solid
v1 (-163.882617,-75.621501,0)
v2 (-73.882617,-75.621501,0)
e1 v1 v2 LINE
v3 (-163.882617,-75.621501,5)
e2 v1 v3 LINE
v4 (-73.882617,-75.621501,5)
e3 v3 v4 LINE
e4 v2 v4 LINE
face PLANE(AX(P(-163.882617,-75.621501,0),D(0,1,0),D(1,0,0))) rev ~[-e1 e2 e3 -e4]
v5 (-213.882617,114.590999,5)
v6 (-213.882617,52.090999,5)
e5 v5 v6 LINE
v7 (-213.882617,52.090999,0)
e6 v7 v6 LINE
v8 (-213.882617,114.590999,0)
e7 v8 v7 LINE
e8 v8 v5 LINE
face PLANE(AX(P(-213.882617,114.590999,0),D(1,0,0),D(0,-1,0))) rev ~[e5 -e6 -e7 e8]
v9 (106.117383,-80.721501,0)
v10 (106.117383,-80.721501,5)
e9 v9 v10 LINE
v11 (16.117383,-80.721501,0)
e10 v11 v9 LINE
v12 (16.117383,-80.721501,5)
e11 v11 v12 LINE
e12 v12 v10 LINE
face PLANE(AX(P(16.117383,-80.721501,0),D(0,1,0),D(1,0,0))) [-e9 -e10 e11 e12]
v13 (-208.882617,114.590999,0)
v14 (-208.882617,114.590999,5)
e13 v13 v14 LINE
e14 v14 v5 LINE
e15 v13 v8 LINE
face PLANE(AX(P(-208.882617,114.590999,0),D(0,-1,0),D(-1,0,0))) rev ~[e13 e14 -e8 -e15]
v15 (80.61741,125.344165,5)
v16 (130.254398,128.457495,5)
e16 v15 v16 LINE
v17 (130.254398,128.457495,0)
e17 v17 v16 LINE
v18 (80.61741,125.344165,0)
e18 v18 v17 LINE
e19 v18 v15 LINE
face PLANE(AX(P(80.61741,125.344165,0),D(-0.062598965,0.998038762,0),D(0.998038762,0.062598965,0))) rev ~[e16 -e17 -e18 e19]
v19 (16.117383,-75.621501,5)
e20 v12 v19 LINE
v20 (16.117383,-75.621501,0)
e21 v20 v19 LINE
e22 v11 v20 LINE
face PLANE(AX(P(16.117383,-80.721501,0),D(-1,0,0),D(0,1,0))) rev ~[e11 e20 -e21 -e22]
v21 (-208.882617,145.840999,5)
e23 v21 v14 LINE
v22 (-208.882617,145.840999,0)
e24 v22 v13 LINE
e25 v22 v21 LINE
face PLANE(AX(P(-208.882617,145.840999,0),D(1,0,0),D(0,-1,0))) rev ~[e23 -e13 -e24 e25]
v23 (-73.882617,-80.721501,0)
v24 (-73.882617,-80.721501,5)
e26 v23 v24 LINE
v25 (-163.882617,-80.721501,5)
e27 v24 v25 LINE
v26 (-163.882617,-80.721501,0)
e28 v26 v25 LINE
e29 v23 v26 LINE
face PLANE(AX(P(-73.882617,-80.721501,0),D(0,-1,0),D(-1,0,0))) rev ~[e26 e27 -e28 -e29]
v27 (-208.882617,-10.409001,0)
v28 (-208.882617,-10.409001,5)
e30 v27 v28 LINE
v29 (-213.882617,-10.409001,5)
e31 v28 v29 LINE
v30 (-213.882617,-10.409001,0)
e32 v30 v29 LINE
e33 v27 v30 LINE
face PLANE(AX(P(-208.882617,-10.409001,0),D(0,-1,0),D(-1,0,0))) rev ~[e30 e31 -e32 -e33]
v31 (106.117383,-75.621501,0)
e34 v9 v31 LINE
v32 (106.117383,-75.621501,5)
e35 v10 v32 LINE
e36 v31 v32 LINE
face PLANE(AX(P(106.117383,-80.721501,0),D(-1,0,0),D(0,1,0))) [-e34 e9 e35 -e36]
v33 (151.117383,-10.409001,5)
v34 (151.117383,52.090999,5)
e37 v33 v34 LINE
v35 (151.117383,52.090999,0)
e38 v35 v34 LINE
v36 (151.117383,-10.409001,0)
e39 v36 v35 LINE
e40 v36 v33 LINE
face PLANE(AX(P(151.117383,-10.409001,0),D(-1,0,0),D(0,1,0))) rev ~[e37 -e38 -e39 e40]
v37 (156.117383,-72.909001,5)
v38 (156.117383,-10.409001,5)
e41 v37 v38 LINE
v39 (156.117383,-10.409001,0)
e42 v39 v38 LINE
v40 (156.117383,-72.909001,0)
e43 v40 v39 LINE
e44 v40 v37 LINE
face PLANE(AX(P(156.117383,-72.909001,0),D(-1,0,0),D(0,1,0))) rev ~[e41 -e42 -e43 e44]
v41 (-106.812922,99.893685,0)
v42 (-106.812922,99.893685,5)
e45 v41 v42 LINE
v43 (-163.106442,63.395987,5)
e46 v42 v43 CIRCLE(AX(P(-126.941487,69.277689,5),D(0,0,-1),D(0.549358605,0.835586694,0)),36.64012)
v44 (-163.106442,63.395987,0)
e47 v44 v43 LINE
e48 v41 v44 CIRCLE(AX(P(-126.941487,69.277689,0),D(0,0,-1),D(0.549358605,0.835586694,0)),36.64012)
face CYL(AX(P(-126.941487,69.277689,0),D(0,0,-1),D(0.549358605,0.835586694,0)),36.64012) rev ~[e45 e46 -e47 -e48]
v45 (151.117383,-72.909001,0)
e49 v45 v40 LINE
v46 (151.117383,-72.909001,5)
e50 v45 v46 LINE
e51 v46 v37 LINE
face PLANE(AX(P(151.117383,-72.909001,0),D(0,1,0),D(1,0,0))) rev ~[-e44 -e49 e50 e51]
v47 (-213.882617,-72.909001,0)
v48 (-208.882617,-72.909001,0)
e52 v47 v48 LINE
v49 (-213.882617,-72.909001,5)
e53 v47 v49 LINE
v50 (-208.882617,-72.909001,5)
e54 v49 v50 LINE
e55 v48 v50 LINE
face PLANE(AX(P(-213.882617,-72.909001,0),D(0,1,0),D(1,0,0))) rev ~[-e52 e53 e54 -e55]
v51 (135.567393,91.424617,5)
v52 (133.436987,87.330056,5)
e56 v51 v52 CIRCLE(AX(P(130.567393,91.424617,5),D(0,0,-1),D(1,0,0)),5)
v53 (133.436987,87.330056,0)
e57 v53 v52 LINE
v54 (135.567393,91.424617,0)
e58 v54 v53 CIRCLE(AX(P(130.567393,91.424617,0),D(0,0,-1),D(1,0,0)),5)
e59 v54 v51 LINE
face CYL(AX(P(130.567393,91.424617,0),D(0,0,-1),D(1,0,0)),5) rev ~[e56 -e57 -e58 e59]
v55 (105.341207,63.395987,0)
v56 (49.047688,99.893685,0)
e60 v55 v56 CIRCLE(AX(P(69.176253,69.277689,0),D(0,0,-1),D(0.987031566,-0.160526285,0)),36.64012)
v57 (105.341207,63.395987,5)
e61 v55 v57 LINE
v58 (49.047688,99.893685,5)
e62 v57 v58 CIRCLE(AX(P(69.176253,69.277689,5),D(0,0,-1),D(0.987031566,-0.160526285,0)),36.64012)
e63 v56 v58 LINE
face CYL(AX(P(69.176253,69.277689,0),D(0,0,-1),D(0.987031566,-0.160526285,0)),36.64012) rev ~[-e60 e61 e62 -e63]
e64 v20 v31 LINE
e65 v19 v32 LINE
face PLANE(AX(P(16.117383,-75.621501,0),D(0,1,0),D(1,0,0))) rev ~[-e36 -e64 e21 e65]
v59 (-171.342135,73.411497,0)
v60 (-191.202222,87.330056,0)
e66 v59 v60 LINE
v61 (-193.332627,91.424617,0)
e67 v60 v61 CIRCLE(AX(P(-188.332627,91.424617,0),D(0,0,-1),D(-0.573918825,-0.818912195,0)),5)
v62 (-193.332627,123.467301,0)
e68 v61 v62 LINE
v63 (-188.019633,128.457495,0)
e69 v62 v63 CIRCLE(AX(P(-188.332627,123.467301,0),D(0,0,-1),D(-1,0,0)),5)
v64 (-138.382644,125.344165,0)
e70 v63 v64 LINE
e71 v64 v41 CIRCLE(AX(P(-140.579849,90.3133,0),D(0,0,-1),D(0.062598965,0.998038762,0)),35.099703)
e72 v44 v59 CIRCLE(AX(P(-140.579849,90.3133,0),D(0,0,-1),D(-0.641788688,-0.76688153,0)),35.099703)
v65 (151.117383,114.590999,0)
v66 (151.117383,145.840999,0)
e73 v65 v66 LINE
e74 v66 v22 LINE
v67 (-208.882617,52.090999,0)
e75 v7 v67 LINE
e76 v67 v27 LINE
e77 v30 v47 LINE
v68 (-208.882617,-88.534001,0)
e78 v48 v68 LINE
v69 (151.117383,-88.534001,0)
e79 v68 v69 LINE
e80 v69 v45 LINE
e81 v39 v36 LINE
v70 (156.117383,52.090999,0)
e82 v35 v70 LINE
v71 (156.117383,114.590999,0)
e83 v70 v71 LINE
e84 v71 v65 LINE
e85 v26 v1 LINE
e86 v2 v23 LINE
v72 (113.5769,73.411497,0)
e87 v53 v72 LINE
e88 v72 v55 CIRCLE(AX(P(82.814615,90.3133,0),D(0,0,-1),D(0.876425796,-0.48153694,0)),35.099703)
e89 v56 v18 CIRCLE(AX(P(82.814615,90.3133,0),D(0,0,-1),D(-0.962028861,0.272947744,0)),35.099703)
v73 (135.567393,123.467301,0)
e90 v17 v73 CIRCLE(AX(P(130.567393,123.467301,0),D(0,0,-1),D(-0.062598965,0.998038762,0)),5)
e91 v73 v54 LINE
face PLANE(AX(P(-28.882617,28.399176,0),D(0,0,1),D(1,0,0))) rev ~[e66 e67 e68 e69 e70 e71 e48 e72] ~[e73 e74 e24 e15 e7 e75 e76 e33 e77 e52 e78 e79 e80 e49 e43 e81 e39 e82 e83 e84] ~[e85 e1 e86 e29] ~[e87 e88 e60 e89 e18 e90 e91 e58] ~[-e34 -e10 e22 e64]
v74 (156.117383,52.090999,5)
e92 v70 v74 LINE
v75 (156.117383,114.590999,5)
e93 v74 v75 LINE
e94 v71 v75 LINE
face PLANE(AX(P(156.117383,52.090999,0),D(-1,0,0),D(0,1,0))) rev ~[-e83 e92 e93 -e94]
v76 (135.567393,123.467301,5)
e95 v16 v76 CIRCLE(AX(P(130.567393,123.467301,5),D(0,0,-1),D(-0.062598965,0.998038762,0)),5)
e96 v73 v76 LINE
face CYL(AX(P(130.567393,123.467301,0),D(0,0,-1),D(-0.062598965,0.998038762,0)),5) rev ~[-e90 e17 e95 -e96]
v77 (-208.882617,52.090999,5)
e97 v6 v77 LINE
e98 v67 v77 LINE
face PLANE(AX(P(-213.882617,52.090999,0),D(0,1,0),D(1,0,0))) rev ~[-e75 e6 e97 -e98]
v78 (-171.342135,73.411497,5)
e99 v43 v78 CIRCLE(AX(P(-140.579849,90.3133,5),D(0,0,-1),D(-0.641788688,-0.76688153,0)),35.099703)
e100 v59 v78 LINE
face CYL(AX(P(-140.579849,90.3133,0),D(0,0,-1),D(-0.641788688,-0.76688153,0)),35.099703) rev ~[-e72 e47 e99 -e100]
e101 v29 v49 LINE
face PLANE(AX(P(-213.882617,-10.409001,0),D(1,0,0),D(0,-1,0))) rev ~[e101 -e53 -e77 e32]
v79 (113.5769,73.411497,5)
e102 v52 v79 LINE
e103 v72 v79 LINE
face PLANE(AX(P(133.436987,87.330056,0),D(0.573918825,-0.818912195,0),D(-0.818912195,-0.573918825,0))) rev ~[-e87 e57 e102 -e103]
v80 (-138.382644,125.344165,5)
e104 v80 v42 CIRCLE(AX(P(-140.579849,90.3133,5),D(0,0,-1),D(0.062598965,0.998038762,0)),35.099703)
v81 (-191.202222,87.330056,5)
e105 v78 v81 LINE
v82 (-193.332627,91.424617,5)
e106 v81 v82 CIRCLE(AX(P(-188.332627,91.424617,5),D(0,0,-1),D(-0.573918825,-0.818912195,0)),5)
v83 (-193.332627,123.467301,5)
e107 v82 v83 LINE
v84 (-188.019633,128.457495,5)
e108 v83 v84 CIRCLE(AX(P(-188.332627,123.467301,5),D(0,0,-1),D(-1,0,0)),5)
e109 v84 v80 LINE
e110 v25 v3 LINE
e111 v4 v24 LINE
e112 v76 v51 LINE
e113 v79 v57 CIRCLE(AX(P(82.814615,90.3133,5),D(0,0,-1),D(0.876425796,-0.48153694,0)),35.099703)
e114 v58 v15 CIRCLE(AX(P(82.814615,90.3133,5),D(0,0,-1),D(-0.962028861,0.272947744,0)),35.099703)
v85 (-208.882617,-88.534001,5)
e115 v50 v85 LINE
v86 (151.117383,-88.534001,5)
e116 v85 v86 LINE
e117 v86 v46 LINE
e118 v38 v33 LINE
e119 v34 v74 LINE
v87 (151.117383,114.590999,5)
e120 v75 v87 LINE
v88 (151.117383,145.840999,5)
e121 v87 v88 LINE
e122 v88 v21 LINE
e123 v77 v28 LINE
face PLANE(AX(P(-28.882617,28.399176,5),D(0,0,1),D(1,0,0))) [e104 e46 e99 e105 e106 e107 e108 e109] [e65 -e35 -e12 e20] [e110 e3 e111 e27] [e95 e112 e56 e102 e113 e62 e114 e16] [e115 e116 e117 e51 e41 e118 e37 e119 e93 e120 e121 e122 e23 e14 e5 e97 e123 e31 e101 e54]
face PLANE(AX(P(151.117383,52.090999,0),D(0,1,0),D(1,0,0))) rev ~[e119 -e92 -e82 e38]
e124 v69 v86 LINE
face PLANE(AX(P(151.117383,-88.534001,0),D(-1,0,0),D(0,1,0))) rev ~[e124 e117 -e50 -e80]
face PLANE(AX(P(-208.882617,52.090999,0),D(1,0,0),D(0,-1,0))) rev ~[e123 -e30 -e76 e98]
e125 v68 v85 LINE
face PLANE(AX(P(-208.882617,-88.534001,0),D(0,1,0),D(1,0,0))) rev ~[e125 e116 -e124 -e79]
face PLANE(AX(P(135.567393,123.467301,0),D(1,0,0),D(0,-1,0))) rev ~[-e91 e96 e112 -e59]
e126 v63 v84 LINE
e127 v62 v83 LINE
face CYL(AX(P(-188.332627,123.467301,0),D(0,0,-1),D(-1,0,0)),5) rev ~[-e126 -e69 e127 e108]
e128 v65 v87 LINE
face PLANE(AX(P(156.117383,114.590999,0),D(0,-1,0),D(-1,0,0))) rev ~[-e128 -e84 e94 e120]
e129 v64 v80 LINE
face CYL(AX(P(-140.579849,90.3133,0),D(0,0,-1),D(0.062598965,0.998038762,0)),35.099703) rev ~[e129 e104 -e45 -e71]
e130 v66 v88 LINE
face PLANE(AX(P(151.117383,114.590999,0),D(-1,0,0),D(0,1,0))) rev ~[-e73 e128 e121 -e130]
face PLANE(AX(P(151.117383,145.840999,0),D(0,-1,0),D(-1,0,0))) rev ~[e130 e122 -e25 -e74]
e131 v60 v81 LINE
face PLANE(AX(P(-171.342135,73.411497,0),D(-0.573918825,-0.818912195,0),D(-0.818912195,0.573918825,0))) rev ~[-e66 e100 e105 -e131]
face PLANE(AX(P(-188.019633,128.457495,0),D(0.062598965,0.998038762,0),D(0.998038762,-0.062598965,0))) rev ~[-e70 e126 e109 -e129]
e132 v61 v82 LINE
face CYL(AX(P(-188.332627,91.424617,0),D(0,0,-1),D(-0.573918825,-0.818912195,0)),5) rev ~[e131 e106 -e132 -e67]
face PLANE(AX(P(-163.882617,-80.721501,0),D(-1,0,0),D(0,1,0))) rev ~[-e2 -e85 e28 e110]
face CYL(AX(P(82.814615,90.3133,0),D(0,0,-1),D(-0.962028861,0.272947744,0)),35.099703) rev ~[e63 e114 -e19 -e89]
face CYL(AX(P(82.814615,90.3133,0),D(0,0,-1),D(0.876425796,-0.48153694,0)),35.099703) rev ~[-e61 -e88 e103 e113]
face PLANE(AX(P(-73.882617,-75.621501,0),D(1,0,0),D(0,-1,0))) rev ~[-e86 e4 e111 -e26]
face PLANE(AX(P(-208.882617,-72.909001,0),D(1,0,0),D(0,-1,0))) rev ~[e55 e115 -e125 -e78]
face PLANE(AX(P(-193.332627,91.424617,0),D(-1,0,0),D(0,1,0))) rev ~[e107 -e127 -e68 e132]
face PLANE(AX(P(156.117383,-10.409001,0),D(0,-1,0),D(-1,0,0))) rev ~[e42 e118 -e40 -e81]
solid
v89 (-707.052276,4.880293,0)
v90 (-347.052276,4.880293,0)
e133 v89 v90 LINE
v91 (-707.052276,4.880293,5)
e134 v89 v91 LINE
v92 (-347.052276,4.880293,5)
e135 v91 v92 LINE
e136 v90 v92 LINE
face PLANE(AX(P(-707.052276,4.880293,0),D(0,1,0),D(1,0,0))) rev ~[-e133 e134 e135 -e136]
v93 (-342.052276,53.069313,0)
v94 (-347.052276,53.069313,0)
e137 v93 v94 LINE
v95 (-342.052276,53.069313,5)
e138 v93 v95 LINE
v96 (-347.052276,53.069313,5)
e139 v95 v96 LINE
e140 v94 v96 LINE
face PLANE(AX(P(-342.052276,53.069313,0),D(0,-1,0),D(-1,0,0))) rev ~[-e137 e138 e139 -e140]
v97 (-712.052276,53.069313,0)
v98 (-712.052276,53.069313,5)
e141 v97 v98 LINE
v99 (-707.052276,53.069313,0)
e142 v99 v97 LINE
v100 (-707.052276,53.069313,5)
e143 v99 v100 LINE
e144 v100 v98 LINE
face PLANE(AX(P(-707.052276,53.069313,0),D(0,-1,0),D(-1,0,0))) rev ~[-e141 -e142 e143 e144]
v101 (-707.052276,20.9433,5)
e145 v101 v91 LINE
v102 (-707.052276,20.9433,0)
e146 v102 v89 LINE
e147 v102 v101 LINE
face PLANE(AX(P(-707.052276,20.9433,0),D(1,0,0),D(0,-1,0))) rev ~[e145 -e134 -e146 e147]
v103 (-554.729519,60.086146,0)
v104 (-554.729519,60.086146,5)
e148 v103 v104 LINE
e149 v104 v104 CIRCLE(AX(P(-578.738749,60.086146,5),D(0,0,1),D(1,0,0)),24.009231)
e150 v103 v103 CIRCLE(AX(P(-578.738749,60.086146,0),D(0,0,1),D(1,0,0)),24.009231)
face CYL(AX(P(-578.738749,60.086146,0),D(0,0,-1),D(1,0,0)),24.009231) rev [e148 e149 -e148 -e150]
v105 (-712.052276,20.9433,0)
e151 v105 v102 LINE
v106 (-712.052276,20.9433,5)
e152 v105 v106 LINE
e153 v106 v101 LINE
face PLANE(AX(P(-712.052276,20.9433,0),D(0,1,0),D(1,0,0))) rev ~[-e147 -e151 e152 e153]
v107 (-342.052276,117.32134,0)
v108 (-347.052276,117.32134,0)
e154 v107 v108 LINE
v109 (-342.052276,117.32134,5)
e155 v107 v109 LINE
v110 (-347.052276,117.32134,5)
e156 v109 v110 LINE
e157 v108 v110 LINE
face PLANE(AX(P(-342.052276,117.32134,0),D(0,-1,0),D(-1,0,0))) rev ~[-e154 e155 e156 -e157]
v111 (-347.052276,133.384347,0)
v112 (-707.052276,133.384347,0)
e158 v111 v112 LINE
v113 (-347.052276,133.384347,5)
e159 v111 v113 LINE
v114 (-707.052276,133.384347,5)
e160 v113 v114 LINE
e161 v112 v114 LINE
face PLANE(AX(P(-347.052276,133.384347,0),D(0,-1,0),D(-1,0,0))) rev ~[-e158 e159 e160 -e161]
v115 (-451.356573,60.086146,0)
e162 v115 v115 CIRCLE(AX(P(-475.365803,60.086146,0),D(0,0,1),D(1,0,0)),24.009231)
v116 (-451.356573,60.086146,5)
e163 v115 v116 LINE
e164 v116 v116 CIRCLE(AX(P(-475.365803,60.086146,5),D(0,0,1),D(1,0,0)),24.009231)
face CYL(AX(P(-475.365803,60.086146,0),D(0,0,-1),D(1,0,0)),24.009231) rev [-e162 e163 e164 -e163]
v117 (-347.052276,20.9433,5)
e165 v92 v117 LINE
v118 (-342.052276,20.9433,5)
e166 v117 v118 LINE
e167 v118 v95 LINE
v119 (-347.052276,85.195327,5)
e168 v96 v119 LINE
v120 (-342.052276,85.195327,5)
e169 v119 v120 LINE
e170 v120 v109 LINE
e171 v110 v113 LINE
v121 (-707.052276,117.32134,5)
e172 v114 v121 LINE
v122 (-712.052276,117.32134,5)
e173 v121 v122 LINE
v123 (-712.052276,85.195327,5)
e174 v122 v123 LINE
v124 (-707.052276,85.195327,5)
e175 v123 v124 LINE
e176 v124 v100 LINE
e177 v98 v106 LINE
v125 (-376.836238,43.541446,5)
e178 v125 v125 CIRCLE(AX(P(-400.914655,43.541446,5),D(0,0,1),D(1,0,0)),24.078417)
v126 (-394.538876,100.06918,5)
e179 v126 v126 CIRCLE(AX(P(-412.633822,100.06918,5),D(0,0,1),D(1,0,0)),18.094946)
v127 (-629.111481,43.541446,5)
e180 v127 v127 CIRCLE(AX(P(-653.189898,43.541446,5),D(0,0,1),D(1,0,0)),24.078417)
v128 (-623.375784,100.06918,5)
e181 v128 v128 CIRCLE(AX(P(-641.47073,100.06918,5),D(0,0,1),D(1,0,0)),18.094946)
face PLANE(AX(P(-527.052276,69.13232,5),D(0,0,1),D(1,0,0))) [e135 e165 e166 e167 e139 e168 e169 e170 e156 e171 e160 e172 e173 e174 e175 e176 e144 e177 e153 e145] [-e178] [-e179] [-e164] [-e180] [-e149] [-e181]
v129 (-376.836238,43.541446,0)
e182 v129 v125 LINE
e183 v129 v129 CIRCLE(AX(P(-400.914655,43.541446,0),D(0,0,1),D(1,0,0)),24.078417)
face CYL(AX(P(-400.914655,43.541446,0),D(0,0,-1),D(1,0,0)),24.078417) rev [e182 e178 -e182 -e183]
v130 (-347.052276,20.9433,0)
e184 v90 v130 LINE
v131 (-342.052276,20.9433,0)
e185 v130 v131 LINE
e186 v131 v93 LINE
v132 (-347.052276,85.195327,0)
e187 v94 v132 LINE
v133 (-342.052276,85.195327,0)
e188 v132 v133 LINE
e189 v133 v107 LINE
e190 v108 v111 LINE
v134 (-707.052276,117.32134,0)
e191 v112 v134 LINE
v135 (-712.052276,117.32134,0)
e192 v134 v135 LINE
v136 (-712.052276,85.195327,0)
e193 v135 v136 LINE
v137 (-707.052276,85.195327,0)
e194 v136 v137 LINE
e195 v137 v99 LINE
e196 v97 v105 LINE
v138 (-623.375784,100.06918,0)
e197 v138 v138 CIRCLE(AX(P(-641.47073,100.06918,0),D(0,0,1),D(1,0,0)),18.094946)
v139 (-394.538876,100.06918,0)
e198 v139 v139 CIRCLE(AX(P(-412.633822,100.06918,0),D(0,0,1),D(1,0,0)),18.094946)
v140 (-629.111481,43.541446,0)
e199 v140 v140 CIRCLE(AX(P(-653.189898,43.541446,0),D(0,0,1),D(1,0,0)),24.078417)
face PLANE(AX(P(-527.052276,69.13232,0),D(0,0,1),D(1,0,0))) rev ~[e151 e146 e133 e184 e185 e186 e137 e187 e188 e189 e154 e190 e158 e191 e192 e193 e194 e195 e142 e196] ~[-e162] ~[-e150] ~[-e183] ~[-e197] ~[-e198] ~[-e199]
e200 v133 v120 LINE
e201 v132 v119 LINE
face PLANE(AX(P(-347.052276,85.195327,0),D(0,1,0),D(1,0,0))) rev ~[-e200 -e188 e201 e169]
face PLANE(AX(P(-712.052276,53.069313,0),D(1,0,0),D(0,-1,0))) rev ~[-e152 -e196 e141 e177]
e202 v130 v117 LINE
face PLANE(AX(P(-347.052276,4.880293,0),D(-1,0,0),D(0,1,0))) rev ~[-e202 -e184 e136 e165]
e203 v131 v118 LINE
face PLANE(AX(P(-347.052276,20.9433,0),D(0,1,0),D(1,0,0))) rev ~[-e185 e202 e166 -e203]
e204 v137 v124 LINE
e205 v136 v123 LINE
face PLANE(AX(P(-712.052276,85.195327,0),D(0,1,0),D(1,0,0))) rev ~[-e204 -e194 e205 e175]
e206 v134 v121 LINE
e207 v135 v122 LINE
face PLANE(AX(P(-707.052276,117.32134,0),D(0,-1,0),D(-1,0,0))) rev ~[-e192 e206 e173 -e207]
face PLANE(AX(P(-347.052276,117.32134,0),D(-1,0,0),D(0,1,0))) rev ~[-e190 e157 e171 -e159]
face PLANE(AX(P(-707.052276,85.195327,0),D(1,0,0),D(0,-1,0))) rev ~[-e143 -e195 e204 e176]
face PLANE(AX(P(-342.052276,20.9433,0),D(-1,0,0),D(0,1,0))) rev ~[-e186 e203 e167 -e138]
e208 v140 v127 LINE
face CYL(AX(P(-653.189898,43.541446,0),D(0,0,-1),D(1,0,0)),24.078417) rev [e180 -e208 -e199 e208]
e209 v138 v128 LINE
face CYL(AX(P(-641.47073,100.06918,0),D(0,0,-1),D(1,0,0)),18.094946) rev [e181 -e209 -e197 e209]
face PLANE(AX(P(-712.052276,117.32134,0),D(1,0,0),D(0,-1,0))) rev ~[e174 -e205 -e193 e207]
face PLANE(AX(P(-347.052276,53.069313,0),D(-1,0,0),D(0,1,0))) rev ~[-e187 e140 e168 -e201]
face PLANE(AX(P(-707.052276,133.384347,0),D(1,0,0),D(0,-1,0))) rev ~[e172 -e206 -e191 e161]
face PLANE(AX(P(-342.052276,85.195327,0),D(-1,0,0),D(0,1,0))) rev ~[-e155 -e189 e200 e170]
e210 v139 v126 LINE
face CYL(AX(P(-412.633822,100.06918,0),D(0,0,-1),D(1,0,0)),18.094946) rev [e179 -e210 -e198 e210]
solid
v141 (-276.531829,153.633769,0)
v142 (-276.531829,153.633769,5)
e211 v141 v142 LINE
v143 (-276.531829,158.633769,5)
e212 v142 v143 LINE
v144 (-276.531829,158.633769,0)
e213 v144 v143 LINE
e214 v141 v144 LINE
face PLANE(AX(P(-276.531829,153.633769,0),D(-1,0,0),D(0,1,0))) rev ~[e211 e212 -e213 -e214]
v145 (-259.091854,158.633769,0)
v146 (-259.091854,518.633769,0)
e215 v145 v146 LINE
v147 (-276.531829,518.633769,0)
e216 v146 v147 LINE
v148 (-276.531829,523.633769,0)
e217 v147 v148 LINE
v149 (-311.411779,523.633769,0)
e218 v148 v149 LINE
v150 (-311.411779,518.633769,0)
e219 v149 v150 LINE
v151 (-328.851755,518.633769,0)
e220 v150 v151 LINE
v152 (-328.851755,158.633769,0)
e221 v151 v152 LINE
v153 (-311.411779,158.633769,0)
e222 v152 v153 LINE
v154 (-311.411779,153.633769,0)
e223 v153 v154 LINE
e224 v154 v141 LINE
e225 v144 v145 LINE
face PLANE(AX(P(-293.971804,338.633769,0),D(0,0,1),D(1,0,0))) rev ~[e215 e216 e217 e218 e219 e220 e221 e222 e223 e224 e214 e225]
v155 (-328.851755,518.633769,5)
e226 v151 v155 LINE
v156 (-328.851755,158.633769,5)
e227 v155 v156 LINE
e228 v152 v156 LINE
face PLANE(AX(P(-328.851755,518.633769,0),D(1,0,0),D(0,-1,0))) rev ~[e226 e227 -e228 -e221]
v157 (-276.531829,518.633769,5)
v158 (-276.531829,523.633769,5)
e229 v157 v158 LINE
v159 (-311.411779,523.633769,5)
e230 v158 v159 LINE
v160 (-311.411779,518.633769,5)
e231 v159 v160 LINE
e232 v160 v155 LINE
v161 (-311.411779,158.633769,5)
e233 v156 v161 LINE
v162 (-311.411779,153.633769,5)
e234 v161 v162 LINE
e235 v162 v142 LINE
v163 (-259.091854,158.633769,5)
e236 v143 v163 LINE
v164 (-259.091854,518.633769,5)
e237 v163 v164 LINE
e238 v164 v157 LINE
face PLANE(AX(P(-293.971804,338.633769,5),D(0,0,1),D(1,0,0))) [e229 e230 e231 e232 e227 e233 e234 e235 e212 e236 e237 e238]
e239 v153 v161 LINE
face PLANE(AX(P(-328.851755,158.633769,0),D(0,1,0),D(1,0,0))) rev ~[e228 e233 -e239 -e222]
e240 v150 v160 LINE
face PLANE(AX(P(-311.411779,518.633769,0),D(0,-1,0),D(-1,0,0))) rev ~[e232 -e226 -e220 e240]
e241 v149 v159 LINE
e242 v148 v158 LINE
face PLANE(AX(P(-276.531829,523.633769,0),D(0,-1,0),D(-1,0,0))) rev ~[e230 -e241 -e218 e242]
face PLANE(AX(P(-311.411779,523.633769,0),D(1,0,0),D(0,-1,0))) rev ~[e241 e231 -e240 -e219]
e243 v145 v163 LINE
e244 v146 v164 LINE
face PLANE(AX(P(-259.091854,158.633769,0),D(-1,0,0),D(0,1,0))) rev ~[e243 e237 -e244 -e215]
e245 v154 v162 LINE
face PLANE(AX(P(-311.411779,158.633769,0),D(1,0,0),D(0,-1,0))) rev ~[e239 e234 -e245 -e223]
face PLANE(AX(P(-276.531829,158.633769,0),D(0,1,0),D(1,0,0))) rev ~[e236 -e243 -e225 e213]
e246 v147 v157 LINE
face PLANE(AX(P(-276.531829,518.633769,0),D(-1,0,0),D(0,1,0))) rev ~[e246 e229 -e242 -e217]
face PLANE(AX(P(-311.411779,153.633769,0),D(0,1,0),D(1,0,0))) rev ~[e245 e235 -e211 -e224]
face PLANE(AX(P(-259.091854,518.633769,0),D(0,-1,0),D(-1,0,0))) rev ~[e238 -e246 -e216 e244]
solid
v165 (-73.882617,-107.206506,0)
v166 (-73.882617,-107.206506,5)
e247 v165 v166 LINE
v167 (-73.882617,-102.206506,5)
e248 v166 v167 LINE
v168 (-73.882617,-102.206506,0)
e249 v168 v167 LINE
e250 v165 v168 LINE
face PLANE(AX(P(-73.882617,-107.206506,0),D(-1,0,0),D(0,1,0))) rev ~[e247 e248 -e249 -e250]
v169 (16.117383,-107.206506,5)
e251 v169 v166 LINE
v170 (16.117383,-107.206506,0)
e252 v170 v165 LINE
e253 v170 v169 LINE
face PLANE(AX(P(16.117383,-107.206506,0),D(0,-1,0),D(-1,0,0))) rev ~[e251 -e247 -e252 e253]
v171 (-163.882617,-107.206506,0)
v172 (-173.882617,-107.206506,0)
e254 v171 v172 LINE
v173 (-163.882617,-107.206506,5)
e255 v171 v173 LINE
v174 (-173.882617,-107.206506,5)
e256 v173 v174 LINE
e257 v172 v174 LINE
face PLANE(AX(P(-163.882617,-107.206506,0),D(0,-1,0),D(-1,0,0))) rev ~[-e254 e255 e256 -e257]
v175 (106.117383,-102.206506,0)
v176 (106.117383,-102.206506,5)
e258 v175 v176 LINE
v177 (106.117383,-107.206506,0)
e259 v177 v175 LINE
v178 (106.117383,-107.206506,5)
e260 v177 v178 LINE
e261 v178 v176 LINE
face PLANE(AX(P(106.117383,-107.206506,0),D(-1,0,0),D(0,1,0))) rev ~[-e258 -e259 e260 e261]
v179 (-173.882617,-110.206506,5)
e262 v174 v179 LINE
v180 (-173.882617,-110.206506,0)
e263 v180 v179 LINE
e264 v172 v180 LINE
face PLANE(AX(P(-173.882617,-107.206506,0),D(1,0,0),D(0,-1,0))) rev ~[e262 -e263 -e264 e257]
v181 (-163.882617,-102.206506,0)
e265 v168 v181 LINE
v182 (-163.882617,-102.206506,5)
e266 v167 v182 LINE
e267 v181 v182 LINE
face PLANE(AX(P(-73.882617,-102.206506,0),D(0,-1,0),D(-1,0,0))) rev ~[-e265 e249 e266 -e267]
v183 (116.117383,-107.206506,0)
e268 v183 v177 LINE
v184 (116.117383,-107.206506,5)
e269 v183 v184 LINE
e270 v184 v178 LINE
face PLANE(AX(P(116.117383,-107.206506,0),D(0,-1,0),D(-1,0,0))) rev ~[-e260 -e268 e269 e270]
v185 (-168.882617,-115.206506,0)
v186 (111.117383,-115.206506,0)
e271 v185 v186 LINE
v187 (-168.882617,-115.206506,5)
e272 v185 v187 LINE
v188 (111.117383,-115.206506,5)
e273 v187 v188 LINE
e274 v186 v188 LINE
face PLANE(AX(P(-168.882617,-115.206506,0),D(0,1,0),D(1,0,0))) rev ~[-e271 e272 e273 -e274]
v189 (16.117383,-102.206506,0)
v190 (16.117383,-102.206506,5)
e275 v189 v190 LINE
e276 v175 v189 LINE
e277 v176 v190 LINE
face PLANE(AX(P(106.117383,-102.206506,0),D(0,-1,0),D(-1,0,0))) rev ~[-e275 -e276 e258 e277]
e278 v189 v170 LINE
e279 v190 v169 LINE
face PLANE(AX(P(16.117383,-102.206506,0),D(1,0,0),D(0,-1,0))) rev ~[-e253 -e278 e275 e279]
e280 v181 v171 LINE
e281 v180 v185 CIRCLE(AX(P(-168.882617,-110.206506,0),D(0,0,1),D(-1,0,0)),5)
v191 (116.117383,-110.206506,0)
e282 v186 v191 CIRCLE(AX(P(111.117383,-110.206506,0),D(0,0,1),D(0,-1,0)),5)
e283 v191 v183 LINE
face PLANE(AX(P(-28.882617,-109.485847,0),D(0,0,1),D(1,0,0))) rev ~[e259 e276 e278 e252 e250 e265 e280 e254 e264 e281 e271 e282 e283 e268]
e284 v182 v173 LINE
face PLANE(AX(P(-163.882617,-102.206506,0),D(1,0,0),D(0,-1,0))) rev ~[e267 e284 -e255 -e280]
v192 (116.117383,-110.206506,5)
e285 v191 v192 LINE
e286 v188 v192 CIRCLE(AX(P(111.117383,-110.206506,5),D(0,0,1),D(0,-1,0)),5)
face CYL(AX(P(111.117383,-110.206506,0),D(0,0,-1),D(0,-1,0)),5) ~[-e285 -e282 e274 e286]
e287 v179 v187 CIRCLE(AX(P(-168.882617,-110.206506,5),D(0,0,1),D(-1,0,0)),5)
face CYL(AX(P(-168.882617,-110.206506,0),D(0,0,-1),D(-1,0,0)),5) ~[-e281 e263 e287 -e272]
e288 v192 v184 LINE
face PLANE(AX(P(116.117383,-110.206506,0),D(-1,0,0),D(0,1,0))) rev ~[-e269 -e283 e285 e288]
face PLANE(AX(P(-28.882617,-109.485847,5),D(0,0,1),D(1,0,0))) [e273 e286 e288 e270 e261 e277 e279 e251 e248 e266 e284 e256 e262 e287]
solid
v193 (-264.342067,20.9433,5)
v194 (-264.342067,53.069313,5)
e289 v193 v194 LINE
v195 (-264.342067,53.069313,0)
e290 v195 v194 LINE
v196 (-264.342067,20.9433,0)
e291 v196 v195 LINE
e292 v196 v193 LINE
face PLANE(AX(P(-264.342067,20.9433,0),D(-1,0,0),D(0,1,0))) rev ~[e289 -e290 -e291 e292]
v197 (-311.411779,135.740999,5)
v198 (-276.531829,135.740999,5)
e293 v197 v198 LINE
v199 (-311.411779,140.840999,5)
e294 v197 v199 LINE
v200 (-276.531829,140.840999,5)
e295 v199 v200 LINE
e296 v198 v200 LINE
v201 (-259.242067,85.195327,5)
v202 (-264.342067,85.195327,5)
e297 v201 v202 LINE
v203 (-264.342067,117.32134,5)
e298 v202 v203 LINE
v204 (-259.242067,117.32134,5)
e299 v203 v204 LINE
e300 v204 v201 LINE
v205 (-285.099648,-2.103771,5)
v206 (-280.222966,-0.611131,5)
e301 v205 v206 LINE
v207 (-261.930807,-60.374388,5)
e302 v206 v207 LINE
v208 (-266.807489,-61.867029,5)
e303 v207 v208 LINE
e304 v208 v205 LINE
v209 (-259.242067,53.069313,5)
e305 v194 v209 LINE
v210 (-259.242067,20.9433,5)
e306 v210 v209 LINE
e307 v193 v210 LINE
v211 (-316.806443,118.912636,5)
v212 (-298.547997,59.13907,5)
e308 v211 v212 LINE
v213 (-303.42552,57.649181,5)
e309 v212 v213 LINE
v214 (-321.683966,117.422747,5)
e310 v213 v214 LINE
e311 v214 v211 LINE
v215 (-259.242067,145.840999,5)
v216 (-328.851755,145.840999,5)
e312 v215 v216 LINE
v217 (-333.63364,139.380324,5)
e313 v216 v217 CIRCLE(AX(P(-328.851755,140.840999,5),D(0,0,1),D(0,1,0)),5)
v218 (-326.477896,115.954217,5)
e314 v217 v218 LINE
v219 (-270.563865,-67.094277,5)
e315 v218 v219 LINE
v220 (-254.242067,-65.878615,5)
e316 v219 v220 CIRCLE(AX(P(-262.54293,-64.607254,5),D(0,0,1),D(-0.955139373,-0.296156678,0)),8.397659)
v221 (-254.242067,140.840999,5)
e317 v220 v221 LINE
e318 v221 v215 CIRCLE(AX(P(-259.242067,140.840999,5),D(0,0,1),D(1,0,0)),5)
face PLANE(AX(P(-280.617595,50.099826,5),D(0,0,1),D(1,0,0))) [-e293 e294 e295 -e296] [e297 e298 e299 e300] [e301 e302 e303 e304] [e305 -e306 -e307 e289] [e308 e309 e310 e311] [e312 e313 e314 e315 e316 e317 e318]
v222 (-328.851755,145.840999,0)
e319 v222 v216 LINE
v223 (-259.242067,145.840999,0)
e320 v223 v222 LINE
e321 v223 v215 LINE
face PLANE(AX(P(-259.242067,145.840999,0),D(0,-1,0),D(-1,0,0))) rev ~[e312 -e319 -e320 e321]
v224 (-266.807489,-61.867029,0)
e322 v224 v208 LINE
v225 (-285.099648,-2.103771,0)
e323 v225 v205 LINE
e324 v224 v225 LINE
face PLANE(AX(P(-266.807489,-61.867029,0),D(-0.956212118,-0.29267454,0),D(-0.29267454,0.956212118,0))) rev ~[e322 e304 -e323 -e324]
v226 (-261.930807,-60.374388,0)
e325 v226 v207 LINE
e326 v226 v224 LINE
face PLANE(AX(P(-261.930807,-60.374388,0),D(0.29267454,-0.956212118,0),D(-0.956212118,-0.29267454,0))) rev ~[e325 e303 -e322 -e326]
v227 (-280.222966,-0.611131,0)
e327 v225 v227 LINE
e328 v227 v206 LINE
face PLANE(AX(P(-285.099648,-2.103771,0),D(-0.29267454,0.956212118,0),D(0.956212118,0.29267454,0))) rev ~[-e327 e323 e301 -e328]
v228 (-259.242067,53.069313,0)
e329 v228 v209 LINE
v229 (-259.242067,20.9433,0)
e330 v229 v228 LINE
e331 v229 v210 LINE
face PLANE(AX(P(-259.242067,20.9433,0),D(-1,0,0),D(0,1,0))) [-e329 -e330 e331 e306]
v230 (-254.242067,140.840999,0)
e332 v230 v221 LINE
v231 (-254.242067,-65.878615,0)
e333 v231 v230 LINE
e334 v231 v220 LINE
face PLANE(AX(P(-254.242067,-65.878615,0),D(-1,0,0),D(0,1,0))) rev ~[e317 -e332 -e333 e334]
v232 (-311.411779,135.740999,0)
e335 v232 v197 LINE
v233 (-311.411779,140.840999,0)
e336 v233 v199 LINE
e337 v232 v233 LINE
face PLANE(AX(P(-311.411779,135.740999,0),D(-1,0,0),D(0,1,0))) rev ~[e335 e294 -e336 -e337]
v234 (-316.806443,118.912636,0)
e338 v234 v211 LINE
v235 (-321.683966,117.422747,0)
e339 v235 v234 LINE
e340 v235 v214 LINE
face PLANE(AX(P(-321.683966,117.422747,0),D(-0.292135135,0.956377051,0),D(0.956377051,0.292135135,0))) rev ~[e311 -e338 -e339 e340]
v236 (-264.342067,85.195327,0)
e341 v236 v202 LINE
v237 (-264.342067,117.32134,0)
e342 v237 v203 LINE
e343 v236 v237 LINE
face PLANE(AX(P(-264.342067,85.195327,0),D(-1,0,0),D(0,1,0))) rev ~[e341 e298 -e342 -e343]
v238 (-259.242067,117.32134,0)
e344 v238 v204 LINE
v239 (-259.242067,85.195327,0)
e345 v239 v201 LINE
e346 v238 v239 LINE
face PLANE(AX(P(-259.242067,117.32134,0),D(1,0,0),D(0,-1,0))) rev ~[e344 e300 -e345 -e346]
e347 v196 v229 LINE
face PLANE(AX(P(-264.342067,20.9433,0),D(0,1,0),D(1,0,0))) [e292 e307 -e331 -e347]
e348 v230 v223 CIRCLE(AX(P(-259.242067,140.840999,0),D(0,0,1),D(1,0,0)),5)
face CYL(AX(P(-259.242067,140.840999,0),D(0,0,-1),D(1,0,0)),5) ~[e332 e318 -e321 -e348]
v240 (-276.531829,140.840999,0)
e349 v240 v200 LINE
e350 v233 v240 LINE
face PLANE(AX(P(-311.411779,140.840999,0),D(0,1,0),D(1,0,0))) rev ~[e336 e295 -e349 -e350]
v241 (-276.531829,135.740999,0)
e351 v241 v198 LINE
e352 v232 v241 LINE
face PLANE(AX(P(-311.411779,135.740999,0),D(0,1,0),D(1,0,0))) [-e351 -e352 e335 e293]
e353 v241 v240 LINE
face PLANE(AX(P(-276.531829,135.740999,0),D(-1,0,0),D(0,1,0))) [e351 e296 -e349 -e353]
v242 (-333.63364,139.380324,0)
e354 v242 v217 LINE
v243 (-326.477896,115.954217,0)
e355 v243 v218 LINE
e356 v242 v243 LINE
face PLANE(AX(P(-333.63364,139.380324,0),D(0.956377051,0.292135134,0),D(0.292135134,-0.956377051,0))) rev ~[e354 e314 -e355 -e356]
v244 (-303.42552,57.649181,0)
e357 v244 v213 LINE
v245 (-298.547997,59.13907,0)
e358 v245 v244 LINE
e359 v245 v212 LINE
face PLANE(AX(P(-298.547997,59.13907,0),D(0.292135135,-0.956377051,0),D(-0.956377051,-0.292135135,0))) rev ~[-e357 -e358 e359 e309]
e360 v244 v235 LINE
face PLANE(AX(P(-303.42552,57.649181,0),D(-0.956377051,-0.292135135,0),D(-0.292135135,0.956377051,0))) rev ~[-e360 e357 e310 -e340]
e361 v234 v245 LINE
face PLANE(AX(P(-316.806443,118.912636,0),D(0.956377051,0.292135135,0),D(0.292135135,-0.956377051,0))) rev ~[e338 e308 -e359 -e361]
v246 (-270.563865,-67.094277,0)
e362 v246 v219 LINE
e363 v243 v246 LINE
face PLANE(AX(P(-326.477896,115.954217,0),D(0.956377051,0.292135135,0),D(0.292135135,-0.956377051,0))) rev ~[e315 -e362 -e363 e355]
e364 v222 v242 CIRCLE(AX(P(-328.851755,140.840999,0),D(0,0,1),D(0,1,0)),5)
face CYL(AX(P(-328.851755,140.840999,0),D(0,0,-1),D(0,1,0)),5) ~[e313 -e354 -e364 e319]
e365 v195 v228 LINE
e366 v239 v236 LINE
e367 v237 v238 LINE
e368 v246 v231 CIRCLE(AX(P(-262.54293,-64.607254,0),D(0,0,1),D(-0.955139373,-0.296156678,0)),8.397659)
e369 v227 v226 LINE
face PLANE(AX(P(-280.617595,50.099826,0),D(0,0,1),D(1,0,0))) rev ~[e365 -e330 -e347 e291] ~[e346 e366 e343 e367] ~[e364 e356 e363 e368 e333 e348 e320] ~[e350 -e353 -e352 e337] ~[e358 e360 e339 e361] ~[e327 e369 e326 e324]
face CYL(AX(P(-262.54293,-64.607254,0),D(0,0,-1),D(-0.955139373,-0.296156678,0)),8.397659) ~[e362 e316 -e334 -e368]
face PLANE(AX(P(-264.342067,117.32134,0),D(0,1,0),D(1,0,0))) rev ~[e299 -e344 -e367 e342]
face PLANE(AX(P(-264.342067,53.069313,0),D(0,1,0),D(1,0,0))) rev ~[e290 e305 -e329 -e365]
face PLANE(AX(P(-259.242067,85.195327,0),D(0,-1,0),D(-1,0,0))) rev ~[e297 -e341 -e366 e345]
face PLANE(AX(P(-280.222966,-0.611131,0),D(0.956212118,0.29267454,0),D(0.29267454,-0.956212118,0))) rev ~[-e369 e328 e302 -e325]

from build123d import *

# Parameters (mm, degrees)
F0_R     = 24.078416685
F0_R_2   = 18.0949458992
F0_R_3   = 24.0092305205
F1_DEPTH = 5
F0_W     = 90
F0_H     = 5.1
F0_W_2   = 34.879950267
F0_W_3   = 5.1
F0_H_2   = 32.1260135388


with BuildPart() as f1:
    # F0 (on Top) → F1 (new body)
    with BuildSketch(Plane.XY):
        Polygon((-347.0522761345, 117.3213401926), (-347.0522761345, 133.384346962), (-527.0522761345, 133.384346962), (-707.0522761345, 133.384346962), (-707.0522761345, 117.3213401926), (-712.0522761345, 117.3213401926), (-712.0522761345, 85.1953266538), (-707.0522761345, 85.1953266538), (-707.0522761345, 53.069313115), (-712.0522761345, 53.069313115), (-712.0522761345, 20.9432995762), (-707.0522761345, 20.9432995762), (-707.0522761345, 4.8802928068), (-347.0522761345, 4.8802928068), (-347.0522761345, 20.9432995762), (-342.0522761345, 20.9432995762), (-342.0522761345, 53.069313115), (-347.0522761345, 53.069313115), (-347.0522761345, 85.1953266538), (-342.0522761345, 85.1953266538), (-342.0522761345, 117.3213401926), align=None)
        with Locations((-653.1898975372, 43.5414463282)):
            Circle(F0_R, mode=Mode.SUBTRACT)
        with Locations((-641.4707303047, 100.069180131)):
            Circle(F0_R_2, mode=Mode.SUBTRACT)
        with Locations((-578.7387490273, 60.086145997)):
            Circle(F0_R_3, mode=Mode.SUBTRACT)
        with Locations((-400.9146547318, 43.5414463282)):
            Circle(F0_R, mode=Mode.SUBTRACT)
        with Locations((-475.3658032417, 60.086145997)):
            Circle(F0_R_3, mode=Mode.SUBTRACT)
        with Locations((-412.6338219643, 100.069180131)):
            Circle(F0_R_2, mode=Mode.SUBTRACT)
    extrude(amount=F1_DEPTH)


with BuildPart() as f1b:
    # F0 (on Top) → F1, piece 2 (new body)
    with BuildSketch(Plane.XY):
        Polygon((-328.8517546294, 518.6337685585), (-328.8517546294, 158.6337685585), (-311.4117794959, 158.6337685585), (-311.4117794959, 153.6337685585), (-293.9718043624, 153.6337685585), (-276.5318292289, 153.6337685585), (-276.5318292289, 158.6337685585), (-259.0918540955, 158.6337685585), (-259.0918540955, 518.6337685585), (-276.5318292289, 518.6337685585), (-276.5318292289, 523.6337685585), (-293.9718043624, 523.6337685585), (-311.4117794959, 523.6337685585), (-311.4117794959, 518.6337685585), align=None)
    extrude(amount=F1_DEPTH)


with BuildPart() as f1c:
    # F0 (on Top) → F1, piece 3 (new body)
    with BuildSketch(Plane.XY):
        Polygon((-208.8826172801, 114.5909994094), (-213.8826172801, 114.5909994094), (-213.8826172801, 52.0909994094), (-208.8826172801, 52.0909994094), (-208.8826172801, 20.8409994094), (-208.8826172801, -10.4090005906), (-213.8826172801, -10.4090005906), (-213.8826172801, -72.9090005906), (-208.8826172801, -72.9090005906), (-208.8826172801, -80.7215005906), (-208.8826172801, -88.5340005906), (151.1173827199, -88.5340005906), (151.1173827199, -72.9090005906), (156.1173827199, -72.9090005906), (156.1173827199, -10.4090005906), (151.1173827199, -10.4090005906), (151.1173827199, 20.8409994094), (151.1173827199, 52.0909994094), (156.1173827199, 52.0909994094), (156.1173827199, 114.5909994094), (151.1173827199, 114.5909994094), (151.1173827199, 145.8409994094), (-208.8826172801, 145.8409994094), align=None)
        Polygon((-118.8826172801, -80.7215005906), (-163.8826172801, -80.7215005906), (-163.8826172801, -75.6215005906), (-73.8826172801, -75.6215005906), (-73.8826172801, -80.7215005906), align=None, mode=Mode.SUBTRACT)
        with Locations((61.1173827199, -78.1715005906)):
            Rectangle(F0_W, F0_H, mode=Mode.SUBTRACT)
        with BuildLine():
            ThreePointArc((-163.1064418044, 63.395986563), (-167.6908016432, 68.0201306029), (-171.3421346171, 73.4114969184))
            Line((-171.3421346171, 73.4114969184), (-191.2022215393, 87.3300559765))
            ThreePointArc((-191.2022215393, 87.3300559765), (-192.7681640584, 89.1168009498), (-193.3326274157, 91.42461695))
            Line((-193.3326274157, 91.42461695), (-193.3326274157, 123.4673008492))
            ThreePointArc((-193.3326274157, 123.4673008492), (-191.7557127114, 127.1118155025), (-188.0196325923, 128.4574946571))
            Line((-188.0196325923, 128.4574946571), (-138.3826444135, 125.3441646052))
            ThreePointArc((-138.3826444135, 125.3441646052), (-118.5506318626, 117.6391622671), (-106.8129221919, 99.8936852508))
            ThreePointArc((-106.8129221919, 99.8936852508), (-107.0088017165, 38.5338046943), (-163.1064418044, 63.395986563))
        make_face(mode=Mode.SUBTRACT)
        with BuildLine():
            Line((135.5673928555, 123.4673008492), (135.5673928555, 91.42461695))
            ThreePointArc((135.5673928555, 91.42461695), (135.0029294982, 89.1168009498), (133.4369869791, 87.3300559765))
            Line((133.4369869791, 87.3300559765), (113.5769000569, 73.4114969184))
            ThreePointArc((113.5769000569, 73.4114969184), (109.9255670831, 68.0201306029), (105.3412072442, 63.395986563))
            ThreePointArc((105.3412072442, 63.395986563), (49.2435671563, 38.5338046943), (49.0476876317, 99.8936852508))
            ThreePointArc((49.0476876317, 99.8936852508), (60.7853973024, 117.6391622671), (80.6174098533, 125.3441646052))
            Line((80.6174098533, 125.3441646052), (130.2543980321, 128.4574946571))
            ThreePointArc((130.2543980321, 128.4574946571), (133.9904781512, 127.1118155025), (135.5673928555, 123.4673008492))
        make_face(mode=Mode.SUBTRACT)
    extrude(amount=F1_DEPTH)


with BuildPart() as f1d:
    # F0 (on Top) → F1, piece 4 (new body)
    with BuildSketch(Plane.XY):
        with BuildLine():
            Line((-326.4778962759, 115.9542165736), (-270.5638649794, -67.094277193))
            ThreePointArc((-270.5638649794, -67.094277193), (-261.9191921392, -72.9817175644), (-254.2420667969, -65.8786147833))
            Line((-254.2420667969, -65.8786147833), (-254.2420667969, 140.8409994094))
            ThreePointArc((-254.2420667969, 140.8409994094), (-255.7065328909, 144.3765333153), (-259.2420667969, 145.8409994094))
            Line((-259.2420667969, 145.8409994094), (-328.8517546294, 145.8409994094))
            ThreePointArc((-328.8517546294, 145.8409994094), (-332.8706710482, 143.8156104459), (-333.6336398831, 139.3803237369))
            Line((-333.6336398831, 139.3803237369), (-326.4778962759, 115.9542165736))
        make_face()
        Polygon((-303.4255201257, 57.6491810925), (-321.683966032, 117.422746764), (-316.8064430732, 118.91263595), (-298.5479971669, 59.1390702785), align=None, mode=Mode.SUBTRACT)
        with Locations((-293.9718043624, 138.2909994094)):
            Rectangle(F0_W_2, F0_H, mode=Mode.SUBTRACT)
        Polygon((-266.8074888299, -61.8670286172), (-285.0996475577, -2.1037712673), (-280.2229657579, -0.6111311151), (-261.9308070301, -60.3743884651), align=None, mode=Mode.SUBTRACT)
        with Locations((-261.7920667969, 37.0063063456)):
            Rectangle(F0_W_3, F0_H_2, mode=Mode.SUBTRACT)
        Polygon((-264.3420667969, 117.3213401926), (-259.2420667969, 117.3213401926), (-259.2420667969, 85.1953266538), (-264.3420667969, 85.1953266538), (-264.3420667969, 101.2583334232), align=None, mode=Mode.SUBTRACT)
    extrude(amount=F1_DEPTH)


with BuildPart() as f1e:
    # F0 (on Top) → F1, piece 5 (new body)
    with BuildSketch(Plane.XY):
        with BuildLine():
            Line((-73.8826172801, -102.2065058351), (-163.8826172801, -102.2065058351))
            Line((-163.8826172801, -102.2065058351), (-163.8826172801, -107.2065058351))
            Line((-163.8826172801, -107.2065058351), (-173.8826172801, -107.2065058351))
            Line((-173.8826172801, -107.2065058351), (-173.8826172801, -110.2065058351))
            ThreePointArc((-173.8826172801, -110.2065058351), (-172.418151186, -113.742039741), (-168.8826172801, -115.2065058351))
            Line((-168.8826172801, -115.2065058351), (111.1173827199, -115.2065058351))
            ThreePointArc((111.1173827199, -115.2065058351), (114.6529166258, -113.742039741), (116.1173827199, -110.2065058351))
            Line((116.1173827199, -110.2065058351), (116.1173827199, -107.2065058351))
            Line((116.1173827199, -107.2065058351), (106.1173827199, -107.2065058351))
            Line((106.1173827199, -107.2065058351), (106.1173827199, -102.2065058351))
            Line((106.1173827199, -102.2065058351), (16.1173827199, -102.2065058351))
            Line((16.1173827199, -102.2065058351), (16.1173827199, -107.2065058351))
            Line((16.1173827199, -107.2065058351), (-73.8826172801, -107.2065058351))
            Line((-73.8826172801, -107.2065058351), (-73.8826172801, -102.2065058351))
        make_face()
    extrude(amount=F1_DEPTH)


solid = Compound([f1.part, f1b.part, f1c.part, f1d.part, f1e.part])
